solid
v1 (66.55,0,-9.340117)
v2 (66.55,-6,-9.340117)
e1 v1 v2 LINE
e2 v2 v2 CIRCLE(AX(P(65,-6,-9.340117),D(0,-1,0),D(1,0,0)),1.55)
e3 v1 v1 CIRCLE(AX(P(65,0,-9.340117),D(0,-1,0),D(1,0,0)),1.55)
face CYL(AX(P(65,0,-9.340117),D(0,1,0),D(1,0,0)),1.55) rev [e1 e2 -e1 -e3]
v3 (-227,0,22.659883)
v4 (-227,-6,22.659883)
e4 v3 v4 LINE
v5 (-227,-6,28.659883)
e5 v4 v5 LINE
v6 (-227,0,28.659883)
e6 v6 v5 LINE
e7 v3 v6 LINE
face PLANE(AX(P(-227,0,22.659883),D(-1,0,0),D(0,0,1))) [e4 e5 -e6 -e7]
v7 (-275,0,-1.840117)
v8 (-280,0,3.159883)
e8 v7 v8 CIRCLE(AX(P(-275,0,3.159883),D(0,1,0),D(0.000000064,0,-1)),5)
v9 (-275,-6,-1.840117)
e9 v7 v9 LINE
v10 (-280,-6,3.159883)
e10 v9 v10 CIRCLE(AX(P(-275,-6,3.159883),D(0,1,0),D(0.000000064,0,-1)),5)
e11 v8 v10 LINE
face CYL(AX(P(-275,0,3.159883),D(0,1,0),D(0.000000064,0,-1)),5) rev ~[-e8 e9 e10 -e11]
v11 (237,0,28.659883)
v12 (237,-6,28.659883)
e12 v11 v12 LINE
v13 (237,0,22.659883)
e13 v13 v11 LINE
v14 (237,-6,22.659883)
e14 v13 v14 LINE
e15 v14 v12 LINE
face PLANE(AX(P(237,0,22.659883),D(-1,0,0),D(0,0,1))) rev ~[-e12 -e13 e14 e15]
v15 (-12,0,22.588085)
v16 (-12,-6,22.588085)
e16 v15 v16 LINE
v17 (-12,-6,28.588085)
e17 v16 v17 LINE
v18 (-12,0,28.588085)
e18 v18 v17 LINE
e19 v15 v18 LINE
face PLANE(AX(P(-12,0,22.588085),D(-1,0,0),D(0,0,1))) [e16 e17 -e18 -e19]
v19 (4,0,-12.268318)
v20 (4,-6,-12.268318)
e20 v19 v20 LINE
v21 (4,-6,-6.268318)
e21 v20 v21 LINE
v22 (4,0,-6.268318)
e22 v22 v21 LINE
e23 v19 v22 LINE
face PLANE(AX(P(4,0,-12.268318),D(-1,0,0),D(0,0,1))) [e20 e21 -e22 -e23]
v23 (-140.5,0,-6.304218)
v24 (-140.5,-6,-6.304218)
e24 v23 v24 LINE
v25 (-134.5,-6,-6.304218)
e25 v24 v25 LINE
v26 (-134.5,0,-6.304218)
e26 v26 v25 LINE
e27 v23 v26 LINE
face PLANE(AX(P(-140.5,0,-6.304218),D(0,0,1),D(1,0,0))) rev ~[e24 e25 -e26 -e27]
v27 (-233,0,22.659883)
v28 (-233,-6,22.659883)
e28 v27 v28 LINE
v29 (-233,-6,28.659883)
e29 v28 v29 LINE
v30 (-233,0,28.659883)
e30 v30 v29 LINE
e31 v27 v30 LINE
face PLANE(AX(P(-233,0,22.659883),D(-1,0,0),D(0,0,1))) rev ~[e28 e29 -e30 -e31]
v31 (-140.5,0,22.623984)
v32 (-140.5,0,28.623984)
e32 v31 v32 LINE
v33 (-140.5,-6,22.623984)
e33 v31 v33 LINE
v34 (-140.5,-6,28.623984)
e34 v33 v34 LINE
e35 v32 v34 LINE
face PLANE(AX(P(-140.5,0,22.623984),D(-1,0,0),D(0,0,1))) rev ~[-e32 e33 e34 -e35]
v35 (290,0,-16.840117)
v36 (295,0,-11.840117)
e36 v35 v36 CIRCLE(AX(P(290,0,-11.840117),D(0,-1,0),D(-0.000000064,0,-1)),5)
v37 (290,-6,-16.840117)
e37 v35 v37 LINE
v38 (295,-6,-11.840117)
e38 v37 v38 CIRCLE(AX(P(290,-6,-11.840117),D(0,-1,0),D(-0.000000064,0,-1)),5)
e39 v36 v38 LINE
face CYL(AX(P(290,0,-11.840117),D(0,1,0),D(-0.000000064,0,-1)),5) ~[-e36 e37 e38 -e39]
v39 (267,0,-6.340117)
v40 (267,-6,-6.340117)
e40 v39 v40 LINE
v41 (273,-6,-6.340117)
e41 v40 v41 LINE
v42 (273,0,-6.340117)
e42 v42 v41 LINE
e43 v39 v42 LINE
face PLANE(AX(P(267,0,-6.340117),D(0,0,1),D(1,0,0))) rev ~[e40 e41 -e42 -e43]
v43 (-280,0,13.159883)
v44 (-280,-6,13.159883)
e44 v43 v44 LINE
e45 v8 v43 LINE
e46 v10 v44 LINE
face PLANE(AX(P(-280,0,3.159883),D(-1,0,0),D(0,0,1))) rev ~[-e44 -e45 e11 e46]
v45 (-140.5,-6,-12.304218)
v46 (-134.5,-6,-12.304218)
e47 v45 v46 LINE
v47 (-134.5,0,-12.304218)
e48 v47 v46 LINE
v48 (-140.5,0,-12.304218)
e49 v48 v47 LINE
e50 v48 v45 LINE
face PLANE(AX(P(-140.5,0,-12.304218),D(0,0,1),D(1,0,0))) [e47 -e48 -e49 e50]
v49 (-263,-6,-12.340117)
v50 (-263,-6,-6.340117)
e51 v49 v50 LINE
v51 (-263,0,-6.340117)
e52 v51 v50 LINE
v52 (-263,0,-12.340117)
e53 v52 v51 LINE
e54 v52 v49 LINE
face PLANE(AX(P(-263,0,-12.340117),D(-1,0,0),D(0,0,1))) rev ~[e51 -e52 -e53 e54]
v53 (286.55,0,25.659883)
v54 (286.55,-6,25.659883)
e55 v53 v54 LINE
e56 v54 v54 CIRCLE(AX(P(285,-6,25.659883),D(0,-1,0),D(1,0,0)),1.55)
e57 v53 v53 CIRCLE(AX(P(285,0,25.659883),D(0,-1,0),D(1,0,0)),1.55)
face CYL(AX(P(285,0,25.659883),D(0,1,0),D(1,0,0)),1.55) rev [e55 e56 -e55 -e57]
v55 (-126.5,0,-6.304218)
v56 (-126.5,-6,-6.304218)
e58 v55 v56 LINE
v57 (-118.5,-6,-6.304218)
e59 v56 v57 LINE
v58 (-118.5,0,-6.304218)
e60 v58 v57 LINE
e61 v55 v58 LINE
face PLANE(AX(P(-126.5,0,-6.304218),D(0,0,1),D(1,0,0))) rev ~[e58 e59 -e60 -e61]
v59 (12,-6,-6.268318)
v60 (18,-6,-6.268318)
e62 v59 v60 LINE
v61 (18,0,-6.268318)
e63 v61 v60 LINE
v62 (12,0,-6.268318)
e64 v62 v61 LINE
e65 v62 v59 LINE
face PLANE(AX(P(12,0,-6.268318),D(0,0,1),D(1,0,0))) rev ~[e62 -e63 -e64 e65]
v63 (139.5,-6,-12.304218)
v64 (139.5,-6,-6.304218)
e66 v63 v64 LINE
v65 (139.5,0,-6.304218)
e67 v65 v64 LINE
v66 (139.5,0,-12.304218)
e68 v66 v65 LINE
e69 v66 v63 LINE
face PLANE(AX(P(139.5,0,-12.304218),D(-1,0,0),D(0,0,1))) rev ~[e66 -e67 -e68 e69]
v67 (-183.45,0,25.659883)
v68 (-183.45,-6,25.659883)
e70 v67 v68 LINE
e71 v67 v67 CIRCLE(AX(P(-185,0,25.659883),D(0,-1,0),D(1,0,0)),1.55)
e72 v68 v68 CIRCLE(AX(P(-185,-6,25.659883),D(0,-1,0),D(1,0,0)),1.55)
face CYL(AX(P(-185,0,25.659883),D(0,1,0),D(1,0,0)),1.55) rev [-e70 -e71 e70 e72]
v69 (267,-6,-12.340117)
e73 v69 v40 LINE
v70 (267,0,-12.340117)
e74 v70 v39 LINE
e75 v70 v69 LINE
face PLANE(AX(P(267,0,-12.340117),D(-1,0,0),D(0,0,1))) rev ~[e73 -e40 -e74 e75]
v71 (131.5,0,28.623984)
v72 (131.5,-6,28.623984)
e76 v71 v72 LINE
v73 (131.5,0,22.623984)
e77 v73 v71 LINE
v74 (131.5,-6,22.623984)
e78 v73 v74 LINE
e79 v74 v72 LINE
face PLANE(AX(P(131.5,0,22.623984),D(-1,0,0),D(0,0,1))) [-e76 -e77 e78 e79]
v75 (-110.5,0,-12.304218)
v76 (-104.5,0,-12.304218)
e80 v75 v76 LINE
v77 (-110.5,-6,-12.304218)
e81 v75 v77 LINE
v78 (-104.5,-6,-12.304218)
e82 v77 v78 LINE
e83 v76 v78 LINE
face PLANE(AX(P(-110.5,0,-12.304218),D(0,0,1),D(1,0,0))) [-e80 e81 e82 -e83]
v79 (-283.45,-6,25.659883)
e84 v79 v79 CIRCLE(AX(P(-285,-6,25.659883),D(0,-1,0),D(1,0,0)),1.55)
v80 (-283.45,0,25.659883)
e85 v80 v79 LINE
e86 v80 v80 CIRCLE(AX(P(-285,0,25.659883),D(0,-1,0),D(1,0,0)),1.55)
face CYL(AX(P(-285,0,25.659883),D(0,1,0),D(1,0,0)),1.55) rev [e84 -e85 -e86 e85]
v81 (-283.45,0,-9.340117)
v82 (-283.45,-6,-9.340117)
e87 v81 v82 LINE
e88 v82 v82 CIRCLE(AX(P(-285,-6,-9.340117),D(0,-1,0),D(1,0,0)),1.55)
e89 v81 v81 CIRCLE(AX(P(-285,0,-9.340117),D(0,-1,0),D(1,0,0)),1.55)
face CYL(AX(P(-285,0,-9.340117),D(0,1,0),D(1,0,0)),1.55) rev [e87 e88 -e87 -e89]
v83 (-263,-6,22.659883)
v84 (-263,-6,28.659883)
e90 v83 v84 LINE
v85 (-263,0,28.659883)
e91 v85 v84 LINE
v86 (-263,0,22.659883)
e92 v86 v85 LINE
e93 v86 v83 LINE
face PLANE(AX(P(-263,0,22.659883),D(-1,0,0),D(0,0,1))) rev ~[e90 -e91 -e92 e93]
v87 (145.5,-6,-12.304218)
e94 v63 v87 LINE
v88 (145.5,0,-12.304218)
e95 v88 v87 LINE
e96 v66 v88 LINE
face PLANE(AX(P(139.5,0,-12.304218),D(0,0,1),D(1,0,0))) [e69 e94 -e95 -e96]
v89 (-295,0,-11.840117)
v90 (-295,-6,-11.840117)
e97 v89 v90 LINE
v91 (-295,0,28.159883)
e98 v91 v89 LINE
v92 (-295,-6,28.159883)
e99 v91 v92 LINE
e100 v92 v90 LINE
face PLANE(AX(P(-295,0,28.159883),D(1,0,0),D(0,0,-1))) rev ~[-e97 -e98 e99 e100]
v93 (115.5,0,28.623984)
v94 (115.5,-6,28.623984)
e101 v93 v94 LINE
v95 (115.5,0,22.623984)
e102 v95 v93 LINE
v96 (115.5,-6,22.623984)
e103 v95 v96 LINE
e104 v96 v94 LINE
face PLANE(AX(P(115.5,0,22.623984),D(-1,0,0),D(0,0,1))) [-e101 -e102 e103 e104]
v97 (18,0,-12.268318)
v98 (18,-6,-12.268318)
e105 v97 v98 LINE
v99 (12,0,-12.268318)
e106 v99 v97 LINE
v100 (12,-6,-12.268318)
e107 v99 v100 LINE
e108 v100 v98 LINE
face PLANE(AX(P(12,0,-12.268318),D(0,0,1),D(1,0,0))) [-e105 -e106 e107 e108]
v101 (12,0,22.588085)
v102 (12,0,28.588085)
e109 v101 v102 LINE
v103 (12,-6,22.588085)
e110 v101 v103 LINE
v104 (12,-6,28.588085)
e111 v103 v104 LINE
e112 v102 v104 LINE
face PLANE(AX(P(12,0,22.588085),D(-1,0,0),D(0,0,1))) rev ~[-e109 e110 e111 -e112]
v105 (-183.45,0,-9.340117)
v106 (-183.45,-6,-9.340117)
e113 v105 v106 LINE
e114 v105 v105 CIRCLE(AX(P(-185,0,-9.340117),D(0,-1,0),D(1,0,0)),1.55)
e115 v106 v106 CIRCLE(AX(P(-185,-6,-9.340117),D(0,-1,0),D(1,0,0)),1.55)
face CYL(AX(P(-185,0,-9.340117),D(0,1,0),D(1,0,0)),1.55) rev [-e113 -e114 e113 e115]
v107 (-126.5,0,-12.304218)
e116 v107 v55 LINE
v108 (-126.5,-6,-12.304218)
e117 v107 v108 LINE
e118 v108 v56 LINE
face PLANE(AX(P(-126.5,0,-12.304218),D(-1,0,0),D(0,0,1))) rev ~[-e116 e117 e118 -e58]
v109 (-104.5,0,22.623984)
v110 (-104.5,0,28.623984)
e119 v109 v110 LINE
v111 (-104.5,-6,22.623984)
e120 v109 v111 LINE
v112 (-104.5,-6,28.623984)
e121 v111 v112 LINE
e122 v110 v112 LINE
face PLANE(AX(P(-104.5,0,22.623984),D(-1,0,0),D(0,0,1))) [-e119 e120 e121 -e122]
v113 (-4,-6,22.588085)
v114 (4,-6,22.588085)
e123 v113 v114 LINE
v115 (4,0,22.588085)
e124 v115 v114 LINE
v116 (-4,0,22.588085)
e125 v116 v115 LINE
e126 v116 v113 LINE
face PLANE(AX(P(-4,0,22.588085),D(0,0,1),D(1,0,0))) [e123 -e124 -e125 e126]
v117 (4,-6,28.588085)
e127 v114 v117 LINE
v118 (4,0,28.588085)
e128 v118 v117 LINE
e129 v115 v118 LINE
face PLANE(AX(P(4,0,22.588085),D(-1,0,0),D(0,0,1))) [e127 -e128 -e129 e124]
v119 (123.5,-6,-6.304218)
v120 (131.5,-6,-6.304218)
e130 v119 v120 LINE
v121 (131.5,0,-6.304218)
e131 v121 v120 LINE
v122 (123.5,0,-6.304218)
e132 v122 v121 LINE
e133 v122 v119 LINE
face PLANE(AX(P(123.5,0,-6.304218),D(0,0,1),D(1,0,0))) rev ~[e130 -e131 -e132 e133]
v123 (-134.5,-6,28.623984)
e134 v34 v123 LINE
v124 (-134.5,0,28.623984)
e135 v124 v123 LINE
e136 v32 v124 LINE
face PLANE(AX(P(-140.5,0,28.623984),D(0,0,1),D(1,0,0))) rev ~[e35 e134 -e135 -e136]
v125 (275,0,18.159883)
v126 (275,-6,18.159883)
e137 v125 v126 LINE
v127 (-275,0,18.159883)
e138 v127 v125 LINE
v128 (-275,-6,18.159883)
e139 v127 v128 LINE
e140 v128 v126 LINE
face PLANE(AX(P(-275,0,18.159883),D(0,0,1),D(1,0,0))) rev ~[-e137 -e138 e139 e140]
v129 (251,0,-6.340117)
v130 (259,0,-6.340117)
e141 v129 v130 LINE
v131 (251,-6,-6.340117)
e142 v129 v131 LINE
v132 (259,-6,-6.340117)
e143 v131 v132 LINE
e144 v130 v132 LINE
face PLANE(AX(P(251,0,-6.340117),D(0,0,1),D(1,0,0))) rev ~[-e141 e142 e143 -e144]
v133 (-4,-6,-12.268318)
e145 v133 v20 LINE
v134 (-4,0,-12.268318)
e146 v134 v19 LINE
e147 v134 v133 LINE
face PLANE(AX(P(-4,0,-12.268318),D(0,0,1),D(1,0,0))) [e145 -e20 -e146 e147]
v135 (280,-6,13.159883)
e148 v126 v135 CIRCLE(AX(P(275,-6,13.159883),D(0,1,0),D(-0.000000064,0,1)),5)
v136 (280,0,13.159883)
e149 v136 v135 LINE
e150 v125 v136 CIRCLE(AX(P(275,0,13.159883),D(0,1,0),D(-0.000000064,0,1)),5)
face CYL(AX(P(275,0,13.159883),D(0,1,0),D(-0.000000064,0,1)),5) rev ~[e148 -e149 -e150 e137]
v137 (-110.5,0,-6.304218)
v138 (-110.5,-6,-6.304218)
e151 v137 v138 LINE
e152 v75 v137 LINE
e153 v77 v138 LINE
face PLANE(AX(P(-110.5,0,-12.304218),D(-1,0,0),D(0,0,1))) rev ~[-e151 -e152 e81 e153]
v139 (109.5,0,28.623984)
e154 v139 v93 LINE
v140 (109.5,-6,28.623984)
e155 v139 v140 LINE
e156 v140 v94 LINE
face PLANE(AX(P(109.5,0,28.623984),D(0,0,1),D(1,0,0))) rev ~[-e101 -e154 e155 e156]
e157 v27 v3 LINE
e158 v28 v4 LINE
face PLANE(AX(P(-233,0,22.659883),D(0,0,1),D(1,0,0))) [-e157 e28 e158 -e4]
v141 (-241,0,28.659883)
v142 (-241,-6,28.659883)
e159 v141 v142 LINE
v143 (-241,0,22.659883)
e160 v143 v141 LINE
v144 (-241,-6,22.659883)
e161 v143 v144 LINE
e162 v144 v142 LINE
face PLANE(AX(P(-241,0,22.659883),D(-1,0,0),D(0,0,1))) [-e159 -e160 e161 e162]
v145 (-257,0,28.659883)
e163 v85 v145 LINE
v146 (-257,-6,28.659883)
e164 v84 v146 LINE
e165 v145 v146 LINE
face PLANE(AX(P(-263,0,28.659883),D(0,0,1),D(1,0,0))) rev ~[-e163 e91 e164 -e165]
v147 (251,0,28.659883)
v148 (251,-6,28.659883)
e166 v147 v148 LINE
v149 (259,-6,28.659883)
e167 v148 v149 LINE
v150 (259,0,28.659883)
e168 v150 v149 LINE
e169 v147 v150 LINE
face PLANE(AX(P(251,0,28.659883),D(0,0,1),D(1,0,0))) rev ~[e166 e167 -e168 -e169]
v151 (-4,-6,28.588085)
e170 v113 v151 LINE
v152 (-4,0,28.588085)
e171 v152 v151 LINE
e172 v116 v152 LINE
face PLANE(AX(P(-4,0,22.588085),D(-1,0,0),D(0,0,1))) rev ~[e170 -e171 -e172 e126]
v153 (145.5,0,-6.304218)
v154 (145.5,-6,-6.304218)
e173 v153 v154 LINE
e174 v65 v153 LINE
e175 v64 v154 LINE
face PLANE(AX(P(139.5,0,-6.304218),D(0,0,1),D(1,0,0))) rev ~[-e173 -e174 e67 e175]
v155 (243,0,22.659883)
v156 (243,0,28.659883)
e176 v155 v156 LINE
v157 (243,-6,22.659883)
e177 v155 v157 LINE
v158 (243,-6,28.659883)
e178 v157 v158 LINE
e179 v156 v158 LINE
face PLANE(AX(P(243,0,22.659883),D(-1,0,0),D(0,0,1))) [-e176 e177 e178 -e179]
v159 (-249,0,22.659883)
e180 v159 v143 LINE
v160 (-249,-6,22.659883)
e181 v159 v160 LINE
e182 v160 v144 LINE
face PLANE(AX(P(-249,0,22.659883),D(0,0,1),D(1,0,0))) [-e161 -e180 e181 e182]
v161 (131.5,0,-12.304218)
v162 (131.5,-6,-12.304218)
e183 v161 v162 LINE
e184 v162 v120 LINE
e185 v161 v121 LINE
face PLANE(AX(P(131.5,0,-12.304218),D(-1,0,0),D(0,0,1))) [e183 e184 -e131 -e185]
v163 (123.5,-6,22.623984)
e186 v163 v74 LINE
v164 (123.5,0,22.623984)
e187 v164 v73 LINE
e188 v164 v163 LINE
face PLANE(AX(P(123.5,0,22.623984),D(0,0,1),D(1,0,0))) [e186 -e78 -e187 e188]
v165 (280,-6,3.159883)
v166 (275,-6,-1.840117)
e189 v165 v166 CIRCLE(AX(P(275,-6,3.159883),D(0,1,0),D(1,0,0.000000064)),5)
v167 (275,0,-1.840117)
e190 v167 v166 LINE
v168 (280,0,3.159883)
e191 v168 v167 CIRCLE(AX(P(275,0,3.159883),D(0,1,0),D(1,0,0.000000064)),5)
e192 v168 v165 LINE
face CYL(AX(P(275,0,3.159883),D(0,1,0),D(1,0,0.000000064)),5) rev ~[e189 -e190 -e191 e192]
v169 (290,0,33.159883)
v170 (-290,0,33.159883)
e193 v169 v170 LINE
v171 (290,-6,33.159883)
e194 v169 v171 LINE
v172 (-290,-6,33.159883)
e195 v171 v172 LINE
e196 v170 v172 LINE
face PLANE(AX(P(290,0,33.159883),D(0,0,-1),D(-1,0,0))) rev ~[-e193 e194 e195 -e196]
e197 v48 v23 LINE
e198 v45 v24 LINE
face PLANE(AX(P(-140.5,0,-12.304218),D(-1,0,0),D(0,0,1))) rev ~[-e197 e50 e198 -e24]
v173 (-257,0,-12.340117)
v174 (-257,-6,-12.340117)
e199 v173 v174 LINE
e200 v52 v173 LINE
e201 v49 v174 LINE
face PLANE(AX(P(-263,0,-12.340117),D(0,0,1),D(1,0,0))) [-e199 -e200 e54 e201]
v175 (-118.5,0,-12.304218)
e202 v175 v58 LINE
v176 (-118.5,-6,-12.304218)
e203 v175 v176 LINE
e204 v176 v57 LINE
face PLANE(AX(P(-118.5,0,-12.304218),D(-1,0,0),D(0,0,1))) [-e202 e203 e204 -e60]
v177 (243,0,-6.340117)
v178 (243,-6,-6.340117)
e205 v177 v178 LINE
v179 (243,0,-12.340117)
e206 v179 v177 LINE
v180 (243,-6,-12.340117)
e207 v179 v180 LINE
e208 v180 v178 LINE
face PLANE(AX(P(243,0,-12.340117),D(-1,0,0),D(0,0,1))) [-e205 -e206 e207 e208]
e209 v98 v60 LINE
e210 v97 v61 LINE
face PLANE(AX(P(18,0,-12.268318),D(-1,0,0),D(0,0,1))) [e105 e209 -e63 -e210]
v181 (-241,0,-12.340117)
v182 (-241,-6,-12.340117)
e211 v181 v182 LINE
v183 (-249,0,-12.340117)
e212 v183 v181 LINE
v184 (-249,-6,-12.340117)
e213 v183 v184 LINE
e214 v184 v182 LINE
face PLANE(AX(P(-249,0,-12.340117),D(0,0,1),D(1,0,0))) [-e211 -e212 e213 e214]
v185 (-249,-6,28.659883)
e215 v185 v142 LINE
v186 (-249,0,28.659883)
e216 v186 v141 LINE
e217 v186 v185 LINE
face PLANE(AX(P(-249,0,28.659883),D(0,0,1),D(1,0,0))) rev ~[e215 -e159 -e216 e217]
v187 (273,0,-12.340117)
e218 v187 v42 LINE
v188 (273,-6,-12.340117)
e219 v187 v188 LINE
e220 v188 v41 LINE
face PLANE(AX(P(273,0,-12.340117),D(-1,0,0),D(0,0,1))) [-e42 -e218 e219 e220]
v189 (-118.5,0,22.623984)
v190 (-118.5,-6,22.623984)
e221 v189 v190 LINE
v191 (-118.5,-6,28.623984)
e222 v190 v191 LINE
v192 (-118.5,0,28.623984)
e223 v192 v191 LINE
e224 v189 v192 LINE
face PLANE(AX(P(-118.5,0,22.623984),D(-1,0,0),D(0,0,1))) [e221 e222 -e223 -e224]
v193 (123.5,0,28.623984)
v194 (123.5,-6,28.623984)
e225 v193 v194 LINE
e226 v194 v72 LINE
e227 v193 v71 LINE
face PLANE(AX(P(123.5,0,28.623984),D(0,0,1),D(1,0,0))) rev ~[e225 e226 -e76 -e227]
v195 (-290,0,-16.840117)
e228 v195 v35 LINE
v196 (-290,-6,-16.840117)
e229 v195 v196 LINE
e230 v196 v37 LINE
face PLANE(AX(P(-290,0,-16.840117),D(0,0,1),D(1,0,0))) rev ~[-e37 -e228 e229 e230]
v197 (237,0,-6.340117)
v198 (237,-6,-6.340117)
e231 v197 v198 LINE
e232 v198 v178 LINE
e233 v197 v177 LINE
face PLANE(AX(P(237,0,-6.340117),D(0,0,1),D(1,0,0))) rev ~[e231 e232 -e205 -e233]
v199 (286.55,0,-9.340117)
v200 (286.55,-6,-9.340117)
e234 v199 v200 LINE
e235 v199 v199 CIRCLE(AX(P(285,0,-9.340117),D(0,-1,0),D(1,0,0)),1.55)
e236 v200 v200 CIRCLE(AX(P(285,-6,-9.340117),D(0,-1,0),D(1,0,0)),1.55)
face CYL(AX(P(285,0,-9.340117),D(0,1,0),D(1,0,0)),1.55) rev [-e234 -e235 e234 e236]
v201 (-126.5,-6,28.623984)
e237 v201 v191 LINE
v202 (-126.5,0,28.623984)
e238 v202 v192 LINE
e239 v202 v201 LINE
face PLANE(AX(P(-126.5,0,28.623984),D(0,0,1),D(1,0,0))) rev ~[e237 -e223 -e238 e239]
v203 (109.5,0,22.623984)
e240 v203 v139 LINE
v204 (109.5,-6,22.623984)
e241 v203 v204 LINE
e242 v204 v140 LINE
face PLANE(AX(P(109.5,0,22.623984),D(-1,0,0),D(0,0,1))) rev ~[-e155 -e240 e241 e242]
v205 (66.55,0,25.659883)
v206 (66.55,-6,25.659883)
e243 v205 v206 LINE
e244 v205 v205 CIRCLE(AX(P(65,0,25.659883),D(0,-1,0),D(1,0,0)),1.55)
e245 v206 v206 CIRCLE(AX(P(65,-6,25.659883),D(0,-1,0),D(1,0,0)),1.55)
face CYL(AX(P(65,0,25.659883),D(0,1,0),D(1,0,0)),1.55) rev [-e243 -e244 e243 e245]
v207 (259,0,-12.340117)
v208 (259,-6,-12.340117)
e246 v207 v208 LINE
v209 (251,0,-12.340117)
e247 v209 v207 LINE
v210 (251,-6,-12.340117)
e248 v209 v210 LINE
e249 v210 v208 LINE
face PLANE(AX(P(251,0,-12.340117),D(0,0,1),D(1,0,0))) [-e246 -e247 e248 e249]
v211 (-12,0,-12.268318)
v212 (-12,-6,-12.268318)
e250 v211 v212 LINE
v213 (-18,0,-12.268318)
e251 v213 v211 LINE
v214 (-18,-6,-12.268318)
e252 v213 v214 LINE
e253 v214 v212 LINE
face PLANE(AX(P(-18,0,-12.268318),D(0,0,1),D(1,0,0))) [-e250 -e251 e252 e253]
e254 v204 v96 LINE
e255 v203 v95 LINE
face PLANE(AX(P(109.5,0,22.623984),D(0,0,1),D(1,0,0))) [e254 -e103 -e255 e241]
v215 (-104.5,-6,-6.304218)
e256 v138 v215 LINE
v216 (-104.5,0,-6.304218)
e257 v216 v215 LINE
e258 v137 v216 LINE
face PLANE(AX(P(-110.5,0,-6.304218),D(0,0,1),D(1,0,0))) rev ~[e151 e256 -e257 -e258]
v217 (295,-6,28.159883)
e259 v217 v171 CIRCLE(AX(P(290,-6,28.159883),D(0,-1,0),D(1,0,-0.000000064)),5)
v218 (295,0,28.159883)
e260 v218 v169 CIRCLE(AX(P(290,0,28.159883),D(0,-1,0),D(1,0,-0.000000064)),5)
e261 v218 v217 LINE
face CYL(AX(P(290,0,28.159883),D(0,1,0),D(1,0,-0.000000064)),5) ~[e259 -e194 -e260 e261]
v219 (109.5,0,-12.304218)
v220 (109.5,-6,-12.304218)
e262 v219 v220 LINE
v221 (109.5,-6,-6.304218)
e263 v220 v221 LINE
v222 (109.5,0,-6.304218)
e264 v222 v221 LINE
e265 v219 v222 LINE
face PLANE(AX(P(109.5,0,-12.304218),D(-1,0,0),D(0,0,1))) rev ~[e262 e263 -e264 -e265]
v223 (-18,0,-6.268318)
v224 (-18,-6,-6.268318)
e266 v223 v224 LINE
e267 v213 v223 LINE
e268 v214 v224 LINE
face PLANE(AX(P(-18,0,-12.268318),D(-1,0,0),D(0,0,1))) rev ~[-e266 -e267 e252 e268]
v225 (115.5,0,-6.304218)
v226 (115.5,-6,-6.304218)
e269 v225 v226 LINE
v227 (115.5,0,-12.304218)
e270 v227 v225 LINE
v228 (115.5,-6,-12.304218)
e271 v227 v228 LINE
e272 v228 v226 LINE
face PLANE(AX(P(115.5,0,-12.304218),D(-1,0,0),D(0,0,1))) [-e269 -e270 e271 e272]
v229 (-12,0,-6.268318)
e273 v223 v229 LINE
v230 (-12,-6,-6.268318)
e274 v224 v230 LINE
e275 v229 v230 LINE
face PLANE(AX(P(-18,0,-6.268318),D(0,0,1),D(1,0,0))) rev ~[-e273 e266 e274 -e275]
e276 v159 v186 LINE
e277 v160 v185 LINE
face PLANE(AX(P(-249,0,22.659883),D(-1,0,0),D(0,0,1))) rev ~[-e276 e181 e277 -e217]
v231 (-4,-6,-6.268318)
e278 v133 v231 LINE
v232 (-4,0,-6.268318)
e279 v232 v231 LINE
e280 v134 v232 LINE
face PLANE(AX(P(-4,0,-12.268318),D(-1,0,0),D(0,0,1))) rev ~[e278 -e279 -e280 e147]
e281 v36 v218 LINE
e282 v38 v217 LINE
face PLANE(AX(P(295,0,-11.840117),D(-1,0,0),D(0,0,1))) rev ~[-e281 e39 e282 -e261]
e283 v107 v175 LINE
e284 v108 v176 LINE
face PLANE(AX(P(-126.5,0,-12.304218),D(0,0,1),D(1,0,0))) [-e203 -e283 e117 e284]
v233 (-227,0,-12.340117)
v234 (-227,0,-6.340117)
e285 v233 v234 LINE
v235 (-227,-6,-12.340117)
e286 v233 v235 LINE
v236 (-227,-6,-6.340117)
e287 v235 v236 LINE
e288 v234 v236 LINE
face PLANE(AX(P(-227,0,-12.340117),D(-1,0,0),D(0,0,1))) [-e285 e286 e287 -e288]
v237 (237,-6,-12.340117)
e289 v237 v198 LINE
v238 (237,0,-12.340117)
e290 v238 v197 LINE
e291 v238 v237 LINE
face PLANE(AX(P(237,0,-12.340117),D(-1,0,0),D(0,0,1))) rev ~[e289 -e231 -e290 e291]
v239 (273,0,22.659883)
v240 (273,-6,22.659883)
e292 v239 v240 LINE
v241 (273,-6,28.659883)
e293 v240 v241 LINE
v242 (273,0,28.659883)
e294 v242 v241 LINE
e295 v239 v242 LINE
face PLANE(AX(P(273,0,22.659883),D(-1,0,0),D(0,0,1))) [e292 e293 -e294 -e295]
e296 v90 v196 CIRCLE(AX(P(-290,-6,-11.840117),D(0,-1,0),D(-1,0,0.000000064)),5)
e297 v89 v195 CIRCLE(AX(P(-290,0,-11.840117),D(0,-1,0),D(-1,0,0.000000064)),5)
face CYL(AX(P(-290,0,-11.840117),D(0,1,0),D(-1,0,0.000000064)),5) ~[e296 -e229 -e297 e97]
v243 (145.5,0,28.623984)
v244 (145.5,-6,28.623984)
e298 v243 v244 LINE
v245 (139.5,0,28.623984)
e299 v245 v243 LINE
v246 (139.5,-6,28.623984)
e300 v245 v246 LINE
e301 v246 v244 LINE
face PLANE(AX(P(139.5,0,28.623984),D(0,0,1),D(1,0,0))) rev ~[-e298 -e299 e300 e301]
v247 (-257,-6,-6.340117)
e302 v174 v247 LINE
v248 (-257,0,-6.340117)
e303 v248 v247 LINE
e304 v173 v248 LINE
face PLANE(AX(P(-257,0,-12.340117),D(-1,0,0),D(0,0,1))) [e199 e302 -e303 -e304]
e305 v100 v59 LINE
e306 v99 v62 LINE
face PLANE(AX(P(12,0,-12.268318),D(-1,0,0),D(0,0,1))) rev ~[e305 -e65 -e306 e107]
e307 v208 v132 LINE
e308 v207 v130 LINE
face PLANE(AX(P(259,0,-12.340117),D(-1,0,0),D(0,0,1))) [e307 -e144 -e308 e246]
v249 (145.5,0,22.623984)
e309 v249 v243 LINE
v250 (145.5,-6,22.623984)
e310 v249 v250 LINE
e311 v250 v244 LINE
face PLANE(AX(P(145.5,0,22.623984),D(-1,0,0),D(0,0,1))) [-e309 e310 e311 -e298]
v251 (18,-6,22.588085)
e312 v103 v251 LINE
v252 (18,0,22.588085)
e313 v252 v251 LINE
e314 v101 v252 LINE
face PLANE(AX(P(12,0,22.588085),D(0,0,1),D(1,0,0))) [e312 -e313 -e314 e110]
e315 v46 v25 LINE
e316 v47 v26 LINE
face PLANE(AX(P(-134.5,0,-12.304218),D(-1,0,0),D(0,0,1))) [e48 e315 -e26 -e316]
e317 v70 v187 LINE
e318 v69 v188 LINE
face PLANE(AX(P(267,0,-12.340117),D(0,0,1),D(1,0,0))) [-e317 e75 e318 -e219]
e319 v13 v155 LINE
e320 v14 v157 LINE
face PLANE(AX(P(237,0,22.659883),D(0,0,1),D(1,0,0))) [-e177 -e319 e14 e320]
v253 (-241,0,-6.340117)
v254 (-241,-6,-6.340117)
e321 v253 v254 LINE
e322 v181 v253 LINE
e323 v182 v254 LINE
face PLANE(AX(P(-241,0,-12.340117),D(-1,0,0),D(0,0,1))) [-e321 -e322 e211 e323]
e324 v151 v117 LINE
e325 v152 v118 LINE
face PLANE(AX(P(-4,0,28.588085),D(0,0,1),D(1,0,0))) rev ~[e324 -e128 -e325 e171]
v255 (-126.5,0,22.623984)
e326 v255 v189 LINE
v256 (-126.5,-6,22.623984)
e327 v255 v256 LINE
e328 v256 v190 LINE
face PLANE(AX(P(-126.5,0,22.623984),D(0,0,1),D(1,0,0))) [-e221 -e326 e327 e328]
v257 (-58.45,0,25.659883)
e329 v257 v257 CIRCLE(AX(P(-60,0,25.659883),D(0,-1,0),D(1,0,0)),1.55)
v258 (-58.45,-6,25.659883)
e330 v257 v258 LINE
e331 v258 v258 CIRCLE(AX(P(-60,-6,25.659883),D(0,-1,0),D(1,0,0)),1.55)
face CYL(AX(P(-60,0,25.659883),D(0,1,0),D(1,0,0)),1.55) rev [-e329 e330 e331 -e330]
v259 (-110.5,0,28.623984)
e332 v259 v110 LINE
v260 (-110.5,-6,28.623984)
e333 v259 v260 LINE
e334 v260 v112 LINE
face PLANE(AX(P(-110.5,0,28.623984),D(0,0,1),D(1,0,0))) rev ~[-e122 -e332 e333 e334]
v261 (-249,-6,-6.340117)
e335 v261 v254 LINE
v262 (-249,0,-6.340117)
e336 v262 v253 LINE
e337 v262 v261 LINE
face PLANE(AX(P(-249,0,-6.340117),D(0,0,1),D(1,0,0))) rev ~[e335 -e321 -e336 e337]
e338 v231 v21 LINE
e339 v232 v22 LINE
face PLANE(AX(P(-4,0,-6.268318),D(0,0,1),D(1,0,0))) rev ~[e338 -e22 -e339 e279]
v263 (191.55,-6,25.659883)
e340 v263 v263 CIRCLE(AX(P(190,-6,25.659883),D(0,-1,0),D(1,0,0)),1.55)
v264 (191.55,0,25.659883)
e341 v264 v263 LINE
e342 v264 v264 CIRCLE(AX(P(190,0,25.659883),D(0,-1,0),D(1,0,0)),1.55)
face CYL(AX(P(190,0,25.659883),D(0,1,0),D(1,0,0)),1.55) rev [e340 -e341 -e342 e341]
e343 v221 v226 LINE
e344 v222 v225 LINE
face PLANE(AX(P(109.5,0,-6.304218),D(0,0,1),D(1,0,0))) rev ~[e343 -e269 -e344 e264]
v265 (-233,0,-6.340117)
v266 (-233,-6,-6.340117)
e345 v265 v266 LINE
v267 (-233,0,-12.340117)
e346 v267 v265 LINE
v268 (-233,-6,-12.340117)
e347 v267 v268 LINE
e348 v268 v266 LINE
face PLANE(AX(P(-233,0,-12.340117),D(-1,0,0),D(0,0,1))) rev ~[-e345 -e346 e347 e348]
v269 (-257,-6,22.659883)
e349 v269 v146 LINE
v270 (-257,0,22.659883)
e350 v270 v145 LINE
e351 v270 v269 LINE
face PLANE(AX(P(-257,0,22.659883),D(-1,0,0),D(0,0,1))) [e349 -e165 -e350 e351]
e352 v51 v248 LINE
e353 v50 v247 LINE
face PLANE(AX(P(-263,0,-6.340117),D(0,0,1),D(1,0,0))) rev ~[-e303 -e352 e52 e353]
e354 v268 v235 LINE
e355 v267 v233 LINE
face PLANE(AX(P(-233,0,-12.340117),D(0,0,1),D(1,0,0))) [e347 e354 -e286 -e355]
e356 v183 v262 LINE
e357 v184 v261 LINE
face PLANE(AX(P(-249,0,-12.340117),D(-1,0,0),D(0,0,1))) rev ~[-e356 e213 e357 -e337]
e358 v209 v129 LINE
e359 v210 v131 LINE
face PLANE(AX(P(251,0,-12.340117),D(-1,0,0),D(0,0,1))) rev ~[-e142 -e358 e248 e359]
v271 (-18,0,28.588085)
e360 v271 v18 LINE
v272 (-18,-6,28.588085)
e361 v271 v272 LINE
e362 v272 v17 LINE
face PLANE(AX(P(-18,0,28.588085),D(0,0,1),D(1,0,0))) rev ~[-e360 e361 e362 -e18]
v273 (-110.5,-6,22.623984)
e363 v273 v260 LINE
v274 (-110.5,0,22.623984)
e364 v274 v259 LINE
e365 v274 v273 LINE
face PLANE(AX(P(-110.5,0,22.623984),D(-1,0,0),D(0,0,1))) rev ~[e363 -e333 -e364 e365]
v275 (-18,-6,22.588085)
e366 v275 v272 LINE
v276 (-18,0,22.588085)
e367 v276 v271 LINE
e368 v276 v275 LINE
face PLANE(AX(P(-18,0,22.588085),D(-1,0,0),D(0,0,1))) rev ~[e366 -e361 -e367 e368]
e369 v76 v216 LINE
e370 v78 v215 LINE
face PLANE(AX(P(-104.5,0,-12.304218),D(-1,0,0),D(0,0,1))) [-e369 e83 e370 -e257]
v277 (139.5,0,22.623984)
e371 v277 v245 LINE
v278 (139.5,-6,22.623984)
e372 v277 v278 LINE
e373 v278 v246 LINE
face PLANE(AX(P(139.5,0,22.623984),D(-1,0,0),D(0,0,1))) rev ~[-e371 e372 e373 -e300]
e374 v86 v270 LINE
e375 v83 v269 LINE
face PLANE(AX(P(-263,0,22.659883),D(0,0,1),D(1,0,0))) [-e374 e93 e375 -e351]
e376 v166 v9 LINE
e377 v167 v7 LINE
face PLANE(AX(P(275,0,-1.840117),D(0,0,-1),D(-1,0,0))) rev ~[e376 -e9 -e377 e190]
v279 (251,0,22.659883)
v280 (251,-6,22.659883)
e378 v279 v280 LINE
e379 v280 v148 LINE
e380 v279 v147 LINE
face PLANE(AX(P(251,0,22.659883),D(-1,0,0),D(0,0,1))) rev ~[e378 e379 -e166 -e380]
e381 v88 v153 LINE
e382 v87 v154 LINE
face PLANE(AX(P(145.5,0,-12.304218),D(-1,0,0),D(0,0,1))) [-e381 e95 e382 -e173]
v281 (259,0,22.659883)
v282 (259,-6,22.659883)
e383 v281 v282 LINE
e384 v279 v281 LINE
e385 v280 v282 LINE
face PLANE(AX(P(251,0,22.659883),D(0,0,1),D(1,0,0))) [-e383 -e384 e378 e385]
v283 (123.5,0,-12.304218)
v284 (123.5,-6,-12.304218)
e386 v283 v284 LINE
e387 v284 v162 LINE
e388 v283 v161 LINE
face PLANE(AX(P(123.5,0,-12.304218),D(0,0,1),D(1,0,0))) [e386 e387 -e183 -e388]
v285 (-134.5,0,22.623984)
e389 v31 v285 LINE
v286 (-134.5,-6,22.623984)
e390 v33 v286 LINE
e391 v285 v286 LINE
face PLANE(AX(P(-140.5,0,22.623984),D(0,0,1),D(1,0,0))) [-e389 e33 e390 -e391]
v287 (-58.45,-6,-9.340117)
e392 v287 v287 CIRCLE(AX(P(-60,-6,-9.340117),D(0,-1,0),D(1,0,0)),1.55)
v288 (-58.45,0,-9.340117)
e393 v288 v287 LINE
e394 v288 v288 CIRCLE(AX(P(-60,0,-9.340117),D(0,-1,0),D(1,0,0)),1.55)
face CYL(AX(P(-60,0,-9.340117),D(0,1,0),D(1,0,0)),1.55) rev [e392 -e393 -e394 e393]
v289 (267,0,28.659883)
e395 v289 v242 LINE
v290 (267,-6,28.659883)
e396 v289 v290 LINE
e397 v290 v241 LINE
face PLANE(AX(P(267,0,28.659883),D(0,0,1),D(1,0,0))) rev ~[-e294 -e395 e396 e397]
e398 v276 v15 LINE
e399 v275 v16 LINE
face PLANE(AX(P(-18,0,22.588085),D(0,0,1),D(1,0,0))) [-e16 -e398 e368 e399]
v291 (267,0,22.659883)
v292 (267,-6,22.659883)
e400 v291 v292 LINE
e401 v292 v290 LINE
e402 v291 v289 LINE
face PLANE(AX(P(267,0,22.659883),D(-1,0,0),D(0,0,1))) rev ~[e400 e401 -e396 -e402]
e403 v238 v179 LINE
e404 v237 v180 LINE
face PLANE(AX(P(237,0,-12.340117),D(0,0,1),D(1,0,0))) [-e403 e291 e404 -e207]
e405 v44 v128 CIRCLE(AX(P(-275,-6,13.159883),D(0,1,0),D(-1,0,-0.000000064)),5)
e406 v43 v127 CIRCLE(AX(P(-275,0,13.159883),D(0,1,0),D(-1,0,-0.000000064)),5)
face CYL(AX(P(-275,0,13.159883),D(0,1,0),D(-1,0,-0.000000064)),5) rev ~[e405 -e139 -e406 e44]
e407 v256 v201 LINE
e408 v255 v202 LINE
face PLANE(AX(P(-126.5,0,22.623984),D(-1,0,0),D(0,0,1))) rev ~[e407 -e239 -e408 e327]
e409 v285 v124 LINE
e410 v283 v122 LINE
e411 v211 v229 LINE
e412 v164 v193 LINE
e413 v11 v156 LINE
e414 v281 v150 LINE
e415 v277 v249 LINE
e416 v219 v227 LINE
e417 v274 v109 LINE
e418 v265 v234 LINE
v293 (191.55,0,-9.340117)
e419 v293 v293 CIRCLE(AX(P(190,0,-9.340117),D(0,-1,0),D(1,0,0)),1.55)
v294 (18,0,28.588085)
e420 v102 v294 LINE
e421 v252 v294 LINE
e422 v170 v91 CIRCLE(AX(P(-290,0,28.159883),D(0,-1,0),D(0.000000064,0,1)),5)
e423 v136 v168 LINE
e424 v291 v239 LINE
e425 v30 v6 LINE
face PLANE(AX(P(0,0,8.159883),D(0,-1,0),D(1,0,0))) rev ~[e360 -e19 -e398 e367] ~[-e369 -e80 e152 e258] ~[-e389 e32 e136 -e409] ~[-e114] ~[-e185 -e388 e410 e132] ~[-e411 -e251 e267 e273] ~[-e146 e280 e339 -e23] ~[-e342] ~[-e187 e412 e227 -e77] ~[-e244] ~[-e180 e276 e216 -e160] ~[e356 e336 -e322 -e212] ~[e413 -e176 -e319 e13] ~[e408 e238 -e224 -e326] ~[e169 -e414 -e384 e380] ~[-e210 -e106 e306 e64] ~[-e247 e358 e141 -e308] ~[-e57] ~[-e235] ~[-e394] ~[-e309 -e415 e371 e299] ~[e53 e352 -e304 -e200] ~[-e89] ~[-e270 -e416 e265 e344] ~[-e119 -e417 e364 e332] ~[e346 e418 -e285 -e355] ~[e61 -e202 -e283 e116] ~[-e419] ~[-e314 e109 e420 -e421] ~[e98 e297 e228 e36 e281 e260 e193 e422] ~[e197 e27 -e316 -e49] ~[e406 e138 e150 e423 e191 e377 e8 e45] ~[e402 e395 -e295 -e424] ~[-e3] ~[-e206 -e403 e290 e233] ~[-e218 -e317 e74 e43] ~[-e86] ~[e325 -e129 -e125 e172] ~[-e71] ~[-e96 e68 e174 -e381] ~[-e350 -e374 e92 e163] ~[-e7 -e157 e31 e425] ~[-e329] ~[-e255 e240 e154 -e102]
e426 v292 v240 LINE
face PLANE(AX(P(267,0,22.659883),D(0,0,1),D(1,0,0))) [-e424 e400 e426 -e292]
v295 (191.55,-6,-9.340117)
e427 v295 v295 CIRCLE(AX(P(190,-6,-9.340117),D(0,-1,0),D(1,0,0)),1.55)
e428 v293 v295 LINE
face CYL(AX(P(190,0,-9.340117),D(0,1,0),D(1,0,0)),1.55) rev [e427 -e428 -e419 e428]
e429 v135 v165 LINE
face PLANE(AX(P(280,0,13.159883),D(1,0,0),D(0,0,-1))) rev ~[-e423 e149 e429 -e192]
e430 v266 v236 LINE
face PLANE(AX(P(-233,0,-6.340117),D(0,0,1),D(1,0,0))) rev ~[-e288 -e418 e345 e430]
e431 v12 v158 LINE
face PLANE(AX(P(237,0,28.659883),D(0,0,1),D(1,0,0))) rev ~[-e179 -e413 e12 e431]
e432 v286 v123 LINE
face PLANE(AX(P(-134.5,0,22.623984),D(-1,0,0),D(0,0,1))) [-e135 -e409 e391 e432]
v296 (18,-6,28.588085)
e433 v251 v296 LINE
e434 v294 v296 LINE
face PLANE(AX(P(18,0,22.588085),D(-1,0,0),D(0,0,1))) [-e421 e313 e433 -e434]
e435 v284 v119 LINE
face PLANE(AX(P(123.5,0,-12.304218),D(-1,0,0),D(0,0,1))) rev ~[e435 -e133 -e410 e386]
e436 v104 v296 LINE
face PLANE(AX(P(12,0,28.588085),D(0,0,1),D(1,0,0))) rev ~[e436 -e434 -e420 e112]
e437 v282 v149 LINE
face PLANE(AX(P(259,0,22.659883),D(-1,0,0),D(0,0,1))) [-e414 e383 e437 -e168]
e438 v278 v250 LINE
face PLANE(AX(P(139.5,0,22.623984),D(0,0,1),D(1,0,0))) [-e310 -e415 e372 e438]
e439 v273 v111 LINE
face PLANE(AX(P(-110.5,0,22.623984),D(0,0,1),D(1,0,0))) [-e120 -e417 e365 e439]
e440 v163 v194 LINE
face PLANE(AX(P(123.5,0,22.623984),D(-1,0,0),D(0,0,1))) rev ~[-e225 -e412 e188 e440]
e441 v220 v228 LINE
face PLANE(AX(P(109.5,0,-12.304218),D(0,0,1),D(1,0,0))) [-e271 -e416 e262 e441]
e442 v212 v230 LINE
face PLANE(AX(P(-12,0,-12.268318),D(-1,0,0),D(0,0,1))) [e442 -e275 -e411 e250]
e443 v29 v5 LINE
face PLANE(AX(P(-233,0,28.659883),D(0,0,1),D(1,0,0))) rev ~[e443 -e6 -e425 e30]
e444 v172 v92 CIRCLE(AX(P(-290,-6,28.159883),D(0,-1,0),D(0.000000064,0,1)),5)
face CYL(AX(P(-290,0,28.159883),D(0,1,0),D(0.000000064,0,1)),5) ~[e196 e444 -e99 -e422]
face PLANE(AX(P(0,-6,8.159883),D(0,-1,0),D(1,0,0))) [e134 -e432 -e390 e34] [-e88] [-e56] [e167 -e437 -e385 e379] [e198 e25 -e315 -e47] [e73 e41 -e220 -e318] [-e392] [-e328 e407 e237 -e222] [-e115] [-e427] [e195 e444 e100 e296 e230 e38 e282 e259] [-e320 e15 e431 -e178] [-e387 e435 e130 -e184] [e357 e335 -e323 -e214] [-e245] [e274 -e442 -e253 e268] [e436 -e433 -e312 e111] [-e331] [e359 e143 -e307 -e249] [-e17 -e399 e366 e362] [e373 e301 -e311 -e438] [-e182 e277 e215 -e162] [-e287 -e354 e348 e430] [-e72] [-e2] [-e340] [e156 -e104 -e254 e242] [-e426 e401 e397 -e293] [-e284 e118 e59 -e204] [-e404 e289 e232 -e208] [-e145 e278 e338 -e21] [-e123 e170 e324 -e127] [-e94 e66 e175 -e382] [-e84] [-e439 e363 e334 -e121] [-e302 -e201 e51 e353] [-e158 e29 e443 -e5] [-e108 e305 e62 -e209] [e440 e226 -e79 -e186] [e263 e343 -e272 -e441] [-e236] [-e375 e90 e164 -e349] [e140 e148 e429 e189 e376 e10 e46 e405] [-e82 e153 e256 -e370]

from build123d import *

# Parameters (mm, degrees)
F0_R     = 1.55
F0_W     = 6
F0_H     = 6
F0_W_2   = 8
F1_DEPTH = 6


with BuildPart() as f1:
    # F0 (on Front) → F1 (new body)
    with BuildSketch(Plane.XZ):
        with BuildLine():
            Line((290, 33.159883), (-290, 33.159883))
            ThreePointArc((-290, 33.159883), (-293.535534, 31.695417), (-295, 28.159883))
            Line((-295, 28.159883), (-295, -11.840117))
            ThreePointArc((-295, -11.840117), (-293.535534, -15.375651), (-290, -16.840117))
            Line((-290, -16.840117), (290, -16.840117))
            ThreePointArc((290, -16.840117), (293.535534, -15.375651), (295, -11.840117))
            Line((295, -11.840117), (295, 28.159883))
            ThreePointArc((295, 28.159883), (293.535534, 31.695417), (290, 33.159883))
        make_face()
        with Locations((-285, -9.340117)):
            Circle(F0_R, mode=Mode.SUBTRACT)
        with Locations((-260, -9.340117)):
            Rectangle(F0_W, F0_H, mode=Mode.SUBTRACT)
        with Locations((-245, -9.340117)):
            Rectangle(F0_W_2, F0_H, mode=Mode.SUBTRACT)
        with Locations((-230, -9.340117)):
            Rectangle(F0_W, F0_H, mode=Mode.SUBTRACT)
        with Locations((-185, -9.340117)):
            Circle(F0_R, mode=Mode.SUBTRACT)
        with Locations((-137.5, -9.304218)):
            Rectangle(F0_W, F0_H, mode=Mode.SUBTRACT)
        with Locations((-122.5, -9.304218)):
            Rectangle(F0_W_2, F0_H, mode=Mode.SUBTRACT)
        with Locations((-107.5, -9.304218)):
            Rectangle(F0_W, F0_H, mode=Mode.SUBTRACT)
        with Locations((-60, -9.340117)):
            Circle(F0_R, mode=Mode.SUBTRACT)
        with Locations((-15, -9.268318)):
            Rectangle(F0_W, F0_H, mode=Mode.SUBTRACT)
        with Locations((0, -9.268318)):
            Rectangle(F0_W_2, F0_H, mode=Mode.SUBTRACT)
        with Locations((15, -9.268318)):
            Rectangle(F0_W, F0_H, mode=Mode.SUBTRACT)
        with Locations((65, -9.340117)):
            Circle(F0_R, mode=Mode.SUBTRACT)
        with Locations((112.5, -9.304218)):
            Rectangle(F0_W, F0_H, mode=Mode.SUBTRACT)
        with Locations((127.5, -9.304218)):
            Rectangle(F0_W_2, F0_H, mode=Mode.SUBTRACT)
        with Locations((142.5, -9.304218)):
            Rectangle(F0_W, F0_H, mode=Mode.SUBTRACT)
        with Locations((190, -9.340117)):
            Circle(F0_R, mode=Mode.SUBTRACT)
        with Locations((240, -9.340117)):
            Rectangle(F0_W, F0_H, mode=Mode.SUBTRACT)
        with Locations((255, -9.340117)):
            Rectangle(F0_W_2, F0_H, mode=Mode.SUBTRACT)
        with Locations((270, -9.340117)):
            Rectangle(F0_W, F0_H, mode=Mode.SUBTRACT)
        with Locations((285, -9.340117)):
            Circle(F0_R, mode=Mode.SUBTRACT)
        with Locations((-285, 25.659883)):
            Circle(F0_R, mode=Mode.SUBTRACT)
        with Locations((-260, 25.659883)):
            Rectangle(F0_W, F0_H, mode=Mode.SUBTRACT)
        with Locations((-245, 25.659883)):
            Rectangle(F0_W_2, F0_H, mode=Mode.SUBTRACT)
        with Locations((-230, 25.659883)):
            Rectangle(F0_W, F0_H, mode=Mode.SUBTRACT)
        with Locations((-185, 25.659883)):
            Circle(F0_R, mode=Mode.SUBTRACT)
        with Locations((-137.5, 25.623984)):
            Rectangle(F0_W, F0_H, mode=Mode.SUBTRACT)
        with Locations((-122.5, 25.623984)):
            Rectangle(F0_W_2, F0_H, mode=Mode.SUBTRACT)
        with Locations((-107.5, 25.623984)):
            Rectangle(F0_W, F0_H, mode=Mode.SUBTRACT)
        with Locations((-60, 25.659883)):
            Circle(F0_R, mode=Mode.SUBTRACT)
        with Locations((-15, 25.588085)):
            Rectangle(F0_W, F0_H, mode=Mode.SUBTRACT)
        with BuildLine():
            ThreePointArc((-280, 13.159883), (-278.535534, 16.695417), (-275, 18.159883))
            Line((-275, 18.159883), (275, 18.159883))
            ThreePointArc((275, 18.159883), (278.535534, 16.695417), (280, 13.159883))
            Line((280, 13.159883), (280, 3.159883))
            ThreePointArc((280, 3.159883), (278.535534, -0.375651), (275, -1.840117))
            Line((275, -1.840117), (-275, -1.840117))
            ThreePointArc((-275, -1.840117), (-278.535534, -0.375651), (-280, 3.159883))
            Line((-280, 3.159883), (-280, 13.159883))
        make_face(mode=Mode.SUBTRACT)
        with Locations((0, 25.588085)):
            Rectangle(F0_W_2, F0_H, mode=Mode.SUBTRACT)
        with Locations((15, 25.588085)):
            Rectangle(F0_W, F0_H, mode=Mode.SUBTRACT)
        with Locations((65, 25.659883)):
            Circle(F0_R, mode=Mode.SUBTRACT)
        with Locations((112.5, 25.623984)):
            Rectangle(F0_W, F0_H, mode=Mode.SUBTRACT)
        with Locations((127.5, 25.623984)):
            Rectangle(F0_W_2, F0_H, mode=Mode.SUBTRACT)
        with Locations((142.5, 25.623984)):
            Rectangle(F0_W, F0_H, mode=Mode.SUBTRACT)
        with Locations((190, 25.659883)):
            Circle(F0_R, mode=Mode.SUBTRACT)
        with Locations((240, 25.659883)):
            Rectangle(F0_W, F0_H, mode=Mode.SUBTRACT)
        with Locations((255, 25.659883)):
            Rectangle(F0_W_2, F0_H, mode=Mode.SUBTRACT)
        with Locations((270, 25.659883)):
            Rectangle(F0_W, F0_H, mode=Mode.SUBTRACT)
        with Locations((285, 25.659883)):
            Circle(F0_R, mode=Mode.SUBTRACT)
    extrude(amount=F1_DEPTH)


solid = f1.part
